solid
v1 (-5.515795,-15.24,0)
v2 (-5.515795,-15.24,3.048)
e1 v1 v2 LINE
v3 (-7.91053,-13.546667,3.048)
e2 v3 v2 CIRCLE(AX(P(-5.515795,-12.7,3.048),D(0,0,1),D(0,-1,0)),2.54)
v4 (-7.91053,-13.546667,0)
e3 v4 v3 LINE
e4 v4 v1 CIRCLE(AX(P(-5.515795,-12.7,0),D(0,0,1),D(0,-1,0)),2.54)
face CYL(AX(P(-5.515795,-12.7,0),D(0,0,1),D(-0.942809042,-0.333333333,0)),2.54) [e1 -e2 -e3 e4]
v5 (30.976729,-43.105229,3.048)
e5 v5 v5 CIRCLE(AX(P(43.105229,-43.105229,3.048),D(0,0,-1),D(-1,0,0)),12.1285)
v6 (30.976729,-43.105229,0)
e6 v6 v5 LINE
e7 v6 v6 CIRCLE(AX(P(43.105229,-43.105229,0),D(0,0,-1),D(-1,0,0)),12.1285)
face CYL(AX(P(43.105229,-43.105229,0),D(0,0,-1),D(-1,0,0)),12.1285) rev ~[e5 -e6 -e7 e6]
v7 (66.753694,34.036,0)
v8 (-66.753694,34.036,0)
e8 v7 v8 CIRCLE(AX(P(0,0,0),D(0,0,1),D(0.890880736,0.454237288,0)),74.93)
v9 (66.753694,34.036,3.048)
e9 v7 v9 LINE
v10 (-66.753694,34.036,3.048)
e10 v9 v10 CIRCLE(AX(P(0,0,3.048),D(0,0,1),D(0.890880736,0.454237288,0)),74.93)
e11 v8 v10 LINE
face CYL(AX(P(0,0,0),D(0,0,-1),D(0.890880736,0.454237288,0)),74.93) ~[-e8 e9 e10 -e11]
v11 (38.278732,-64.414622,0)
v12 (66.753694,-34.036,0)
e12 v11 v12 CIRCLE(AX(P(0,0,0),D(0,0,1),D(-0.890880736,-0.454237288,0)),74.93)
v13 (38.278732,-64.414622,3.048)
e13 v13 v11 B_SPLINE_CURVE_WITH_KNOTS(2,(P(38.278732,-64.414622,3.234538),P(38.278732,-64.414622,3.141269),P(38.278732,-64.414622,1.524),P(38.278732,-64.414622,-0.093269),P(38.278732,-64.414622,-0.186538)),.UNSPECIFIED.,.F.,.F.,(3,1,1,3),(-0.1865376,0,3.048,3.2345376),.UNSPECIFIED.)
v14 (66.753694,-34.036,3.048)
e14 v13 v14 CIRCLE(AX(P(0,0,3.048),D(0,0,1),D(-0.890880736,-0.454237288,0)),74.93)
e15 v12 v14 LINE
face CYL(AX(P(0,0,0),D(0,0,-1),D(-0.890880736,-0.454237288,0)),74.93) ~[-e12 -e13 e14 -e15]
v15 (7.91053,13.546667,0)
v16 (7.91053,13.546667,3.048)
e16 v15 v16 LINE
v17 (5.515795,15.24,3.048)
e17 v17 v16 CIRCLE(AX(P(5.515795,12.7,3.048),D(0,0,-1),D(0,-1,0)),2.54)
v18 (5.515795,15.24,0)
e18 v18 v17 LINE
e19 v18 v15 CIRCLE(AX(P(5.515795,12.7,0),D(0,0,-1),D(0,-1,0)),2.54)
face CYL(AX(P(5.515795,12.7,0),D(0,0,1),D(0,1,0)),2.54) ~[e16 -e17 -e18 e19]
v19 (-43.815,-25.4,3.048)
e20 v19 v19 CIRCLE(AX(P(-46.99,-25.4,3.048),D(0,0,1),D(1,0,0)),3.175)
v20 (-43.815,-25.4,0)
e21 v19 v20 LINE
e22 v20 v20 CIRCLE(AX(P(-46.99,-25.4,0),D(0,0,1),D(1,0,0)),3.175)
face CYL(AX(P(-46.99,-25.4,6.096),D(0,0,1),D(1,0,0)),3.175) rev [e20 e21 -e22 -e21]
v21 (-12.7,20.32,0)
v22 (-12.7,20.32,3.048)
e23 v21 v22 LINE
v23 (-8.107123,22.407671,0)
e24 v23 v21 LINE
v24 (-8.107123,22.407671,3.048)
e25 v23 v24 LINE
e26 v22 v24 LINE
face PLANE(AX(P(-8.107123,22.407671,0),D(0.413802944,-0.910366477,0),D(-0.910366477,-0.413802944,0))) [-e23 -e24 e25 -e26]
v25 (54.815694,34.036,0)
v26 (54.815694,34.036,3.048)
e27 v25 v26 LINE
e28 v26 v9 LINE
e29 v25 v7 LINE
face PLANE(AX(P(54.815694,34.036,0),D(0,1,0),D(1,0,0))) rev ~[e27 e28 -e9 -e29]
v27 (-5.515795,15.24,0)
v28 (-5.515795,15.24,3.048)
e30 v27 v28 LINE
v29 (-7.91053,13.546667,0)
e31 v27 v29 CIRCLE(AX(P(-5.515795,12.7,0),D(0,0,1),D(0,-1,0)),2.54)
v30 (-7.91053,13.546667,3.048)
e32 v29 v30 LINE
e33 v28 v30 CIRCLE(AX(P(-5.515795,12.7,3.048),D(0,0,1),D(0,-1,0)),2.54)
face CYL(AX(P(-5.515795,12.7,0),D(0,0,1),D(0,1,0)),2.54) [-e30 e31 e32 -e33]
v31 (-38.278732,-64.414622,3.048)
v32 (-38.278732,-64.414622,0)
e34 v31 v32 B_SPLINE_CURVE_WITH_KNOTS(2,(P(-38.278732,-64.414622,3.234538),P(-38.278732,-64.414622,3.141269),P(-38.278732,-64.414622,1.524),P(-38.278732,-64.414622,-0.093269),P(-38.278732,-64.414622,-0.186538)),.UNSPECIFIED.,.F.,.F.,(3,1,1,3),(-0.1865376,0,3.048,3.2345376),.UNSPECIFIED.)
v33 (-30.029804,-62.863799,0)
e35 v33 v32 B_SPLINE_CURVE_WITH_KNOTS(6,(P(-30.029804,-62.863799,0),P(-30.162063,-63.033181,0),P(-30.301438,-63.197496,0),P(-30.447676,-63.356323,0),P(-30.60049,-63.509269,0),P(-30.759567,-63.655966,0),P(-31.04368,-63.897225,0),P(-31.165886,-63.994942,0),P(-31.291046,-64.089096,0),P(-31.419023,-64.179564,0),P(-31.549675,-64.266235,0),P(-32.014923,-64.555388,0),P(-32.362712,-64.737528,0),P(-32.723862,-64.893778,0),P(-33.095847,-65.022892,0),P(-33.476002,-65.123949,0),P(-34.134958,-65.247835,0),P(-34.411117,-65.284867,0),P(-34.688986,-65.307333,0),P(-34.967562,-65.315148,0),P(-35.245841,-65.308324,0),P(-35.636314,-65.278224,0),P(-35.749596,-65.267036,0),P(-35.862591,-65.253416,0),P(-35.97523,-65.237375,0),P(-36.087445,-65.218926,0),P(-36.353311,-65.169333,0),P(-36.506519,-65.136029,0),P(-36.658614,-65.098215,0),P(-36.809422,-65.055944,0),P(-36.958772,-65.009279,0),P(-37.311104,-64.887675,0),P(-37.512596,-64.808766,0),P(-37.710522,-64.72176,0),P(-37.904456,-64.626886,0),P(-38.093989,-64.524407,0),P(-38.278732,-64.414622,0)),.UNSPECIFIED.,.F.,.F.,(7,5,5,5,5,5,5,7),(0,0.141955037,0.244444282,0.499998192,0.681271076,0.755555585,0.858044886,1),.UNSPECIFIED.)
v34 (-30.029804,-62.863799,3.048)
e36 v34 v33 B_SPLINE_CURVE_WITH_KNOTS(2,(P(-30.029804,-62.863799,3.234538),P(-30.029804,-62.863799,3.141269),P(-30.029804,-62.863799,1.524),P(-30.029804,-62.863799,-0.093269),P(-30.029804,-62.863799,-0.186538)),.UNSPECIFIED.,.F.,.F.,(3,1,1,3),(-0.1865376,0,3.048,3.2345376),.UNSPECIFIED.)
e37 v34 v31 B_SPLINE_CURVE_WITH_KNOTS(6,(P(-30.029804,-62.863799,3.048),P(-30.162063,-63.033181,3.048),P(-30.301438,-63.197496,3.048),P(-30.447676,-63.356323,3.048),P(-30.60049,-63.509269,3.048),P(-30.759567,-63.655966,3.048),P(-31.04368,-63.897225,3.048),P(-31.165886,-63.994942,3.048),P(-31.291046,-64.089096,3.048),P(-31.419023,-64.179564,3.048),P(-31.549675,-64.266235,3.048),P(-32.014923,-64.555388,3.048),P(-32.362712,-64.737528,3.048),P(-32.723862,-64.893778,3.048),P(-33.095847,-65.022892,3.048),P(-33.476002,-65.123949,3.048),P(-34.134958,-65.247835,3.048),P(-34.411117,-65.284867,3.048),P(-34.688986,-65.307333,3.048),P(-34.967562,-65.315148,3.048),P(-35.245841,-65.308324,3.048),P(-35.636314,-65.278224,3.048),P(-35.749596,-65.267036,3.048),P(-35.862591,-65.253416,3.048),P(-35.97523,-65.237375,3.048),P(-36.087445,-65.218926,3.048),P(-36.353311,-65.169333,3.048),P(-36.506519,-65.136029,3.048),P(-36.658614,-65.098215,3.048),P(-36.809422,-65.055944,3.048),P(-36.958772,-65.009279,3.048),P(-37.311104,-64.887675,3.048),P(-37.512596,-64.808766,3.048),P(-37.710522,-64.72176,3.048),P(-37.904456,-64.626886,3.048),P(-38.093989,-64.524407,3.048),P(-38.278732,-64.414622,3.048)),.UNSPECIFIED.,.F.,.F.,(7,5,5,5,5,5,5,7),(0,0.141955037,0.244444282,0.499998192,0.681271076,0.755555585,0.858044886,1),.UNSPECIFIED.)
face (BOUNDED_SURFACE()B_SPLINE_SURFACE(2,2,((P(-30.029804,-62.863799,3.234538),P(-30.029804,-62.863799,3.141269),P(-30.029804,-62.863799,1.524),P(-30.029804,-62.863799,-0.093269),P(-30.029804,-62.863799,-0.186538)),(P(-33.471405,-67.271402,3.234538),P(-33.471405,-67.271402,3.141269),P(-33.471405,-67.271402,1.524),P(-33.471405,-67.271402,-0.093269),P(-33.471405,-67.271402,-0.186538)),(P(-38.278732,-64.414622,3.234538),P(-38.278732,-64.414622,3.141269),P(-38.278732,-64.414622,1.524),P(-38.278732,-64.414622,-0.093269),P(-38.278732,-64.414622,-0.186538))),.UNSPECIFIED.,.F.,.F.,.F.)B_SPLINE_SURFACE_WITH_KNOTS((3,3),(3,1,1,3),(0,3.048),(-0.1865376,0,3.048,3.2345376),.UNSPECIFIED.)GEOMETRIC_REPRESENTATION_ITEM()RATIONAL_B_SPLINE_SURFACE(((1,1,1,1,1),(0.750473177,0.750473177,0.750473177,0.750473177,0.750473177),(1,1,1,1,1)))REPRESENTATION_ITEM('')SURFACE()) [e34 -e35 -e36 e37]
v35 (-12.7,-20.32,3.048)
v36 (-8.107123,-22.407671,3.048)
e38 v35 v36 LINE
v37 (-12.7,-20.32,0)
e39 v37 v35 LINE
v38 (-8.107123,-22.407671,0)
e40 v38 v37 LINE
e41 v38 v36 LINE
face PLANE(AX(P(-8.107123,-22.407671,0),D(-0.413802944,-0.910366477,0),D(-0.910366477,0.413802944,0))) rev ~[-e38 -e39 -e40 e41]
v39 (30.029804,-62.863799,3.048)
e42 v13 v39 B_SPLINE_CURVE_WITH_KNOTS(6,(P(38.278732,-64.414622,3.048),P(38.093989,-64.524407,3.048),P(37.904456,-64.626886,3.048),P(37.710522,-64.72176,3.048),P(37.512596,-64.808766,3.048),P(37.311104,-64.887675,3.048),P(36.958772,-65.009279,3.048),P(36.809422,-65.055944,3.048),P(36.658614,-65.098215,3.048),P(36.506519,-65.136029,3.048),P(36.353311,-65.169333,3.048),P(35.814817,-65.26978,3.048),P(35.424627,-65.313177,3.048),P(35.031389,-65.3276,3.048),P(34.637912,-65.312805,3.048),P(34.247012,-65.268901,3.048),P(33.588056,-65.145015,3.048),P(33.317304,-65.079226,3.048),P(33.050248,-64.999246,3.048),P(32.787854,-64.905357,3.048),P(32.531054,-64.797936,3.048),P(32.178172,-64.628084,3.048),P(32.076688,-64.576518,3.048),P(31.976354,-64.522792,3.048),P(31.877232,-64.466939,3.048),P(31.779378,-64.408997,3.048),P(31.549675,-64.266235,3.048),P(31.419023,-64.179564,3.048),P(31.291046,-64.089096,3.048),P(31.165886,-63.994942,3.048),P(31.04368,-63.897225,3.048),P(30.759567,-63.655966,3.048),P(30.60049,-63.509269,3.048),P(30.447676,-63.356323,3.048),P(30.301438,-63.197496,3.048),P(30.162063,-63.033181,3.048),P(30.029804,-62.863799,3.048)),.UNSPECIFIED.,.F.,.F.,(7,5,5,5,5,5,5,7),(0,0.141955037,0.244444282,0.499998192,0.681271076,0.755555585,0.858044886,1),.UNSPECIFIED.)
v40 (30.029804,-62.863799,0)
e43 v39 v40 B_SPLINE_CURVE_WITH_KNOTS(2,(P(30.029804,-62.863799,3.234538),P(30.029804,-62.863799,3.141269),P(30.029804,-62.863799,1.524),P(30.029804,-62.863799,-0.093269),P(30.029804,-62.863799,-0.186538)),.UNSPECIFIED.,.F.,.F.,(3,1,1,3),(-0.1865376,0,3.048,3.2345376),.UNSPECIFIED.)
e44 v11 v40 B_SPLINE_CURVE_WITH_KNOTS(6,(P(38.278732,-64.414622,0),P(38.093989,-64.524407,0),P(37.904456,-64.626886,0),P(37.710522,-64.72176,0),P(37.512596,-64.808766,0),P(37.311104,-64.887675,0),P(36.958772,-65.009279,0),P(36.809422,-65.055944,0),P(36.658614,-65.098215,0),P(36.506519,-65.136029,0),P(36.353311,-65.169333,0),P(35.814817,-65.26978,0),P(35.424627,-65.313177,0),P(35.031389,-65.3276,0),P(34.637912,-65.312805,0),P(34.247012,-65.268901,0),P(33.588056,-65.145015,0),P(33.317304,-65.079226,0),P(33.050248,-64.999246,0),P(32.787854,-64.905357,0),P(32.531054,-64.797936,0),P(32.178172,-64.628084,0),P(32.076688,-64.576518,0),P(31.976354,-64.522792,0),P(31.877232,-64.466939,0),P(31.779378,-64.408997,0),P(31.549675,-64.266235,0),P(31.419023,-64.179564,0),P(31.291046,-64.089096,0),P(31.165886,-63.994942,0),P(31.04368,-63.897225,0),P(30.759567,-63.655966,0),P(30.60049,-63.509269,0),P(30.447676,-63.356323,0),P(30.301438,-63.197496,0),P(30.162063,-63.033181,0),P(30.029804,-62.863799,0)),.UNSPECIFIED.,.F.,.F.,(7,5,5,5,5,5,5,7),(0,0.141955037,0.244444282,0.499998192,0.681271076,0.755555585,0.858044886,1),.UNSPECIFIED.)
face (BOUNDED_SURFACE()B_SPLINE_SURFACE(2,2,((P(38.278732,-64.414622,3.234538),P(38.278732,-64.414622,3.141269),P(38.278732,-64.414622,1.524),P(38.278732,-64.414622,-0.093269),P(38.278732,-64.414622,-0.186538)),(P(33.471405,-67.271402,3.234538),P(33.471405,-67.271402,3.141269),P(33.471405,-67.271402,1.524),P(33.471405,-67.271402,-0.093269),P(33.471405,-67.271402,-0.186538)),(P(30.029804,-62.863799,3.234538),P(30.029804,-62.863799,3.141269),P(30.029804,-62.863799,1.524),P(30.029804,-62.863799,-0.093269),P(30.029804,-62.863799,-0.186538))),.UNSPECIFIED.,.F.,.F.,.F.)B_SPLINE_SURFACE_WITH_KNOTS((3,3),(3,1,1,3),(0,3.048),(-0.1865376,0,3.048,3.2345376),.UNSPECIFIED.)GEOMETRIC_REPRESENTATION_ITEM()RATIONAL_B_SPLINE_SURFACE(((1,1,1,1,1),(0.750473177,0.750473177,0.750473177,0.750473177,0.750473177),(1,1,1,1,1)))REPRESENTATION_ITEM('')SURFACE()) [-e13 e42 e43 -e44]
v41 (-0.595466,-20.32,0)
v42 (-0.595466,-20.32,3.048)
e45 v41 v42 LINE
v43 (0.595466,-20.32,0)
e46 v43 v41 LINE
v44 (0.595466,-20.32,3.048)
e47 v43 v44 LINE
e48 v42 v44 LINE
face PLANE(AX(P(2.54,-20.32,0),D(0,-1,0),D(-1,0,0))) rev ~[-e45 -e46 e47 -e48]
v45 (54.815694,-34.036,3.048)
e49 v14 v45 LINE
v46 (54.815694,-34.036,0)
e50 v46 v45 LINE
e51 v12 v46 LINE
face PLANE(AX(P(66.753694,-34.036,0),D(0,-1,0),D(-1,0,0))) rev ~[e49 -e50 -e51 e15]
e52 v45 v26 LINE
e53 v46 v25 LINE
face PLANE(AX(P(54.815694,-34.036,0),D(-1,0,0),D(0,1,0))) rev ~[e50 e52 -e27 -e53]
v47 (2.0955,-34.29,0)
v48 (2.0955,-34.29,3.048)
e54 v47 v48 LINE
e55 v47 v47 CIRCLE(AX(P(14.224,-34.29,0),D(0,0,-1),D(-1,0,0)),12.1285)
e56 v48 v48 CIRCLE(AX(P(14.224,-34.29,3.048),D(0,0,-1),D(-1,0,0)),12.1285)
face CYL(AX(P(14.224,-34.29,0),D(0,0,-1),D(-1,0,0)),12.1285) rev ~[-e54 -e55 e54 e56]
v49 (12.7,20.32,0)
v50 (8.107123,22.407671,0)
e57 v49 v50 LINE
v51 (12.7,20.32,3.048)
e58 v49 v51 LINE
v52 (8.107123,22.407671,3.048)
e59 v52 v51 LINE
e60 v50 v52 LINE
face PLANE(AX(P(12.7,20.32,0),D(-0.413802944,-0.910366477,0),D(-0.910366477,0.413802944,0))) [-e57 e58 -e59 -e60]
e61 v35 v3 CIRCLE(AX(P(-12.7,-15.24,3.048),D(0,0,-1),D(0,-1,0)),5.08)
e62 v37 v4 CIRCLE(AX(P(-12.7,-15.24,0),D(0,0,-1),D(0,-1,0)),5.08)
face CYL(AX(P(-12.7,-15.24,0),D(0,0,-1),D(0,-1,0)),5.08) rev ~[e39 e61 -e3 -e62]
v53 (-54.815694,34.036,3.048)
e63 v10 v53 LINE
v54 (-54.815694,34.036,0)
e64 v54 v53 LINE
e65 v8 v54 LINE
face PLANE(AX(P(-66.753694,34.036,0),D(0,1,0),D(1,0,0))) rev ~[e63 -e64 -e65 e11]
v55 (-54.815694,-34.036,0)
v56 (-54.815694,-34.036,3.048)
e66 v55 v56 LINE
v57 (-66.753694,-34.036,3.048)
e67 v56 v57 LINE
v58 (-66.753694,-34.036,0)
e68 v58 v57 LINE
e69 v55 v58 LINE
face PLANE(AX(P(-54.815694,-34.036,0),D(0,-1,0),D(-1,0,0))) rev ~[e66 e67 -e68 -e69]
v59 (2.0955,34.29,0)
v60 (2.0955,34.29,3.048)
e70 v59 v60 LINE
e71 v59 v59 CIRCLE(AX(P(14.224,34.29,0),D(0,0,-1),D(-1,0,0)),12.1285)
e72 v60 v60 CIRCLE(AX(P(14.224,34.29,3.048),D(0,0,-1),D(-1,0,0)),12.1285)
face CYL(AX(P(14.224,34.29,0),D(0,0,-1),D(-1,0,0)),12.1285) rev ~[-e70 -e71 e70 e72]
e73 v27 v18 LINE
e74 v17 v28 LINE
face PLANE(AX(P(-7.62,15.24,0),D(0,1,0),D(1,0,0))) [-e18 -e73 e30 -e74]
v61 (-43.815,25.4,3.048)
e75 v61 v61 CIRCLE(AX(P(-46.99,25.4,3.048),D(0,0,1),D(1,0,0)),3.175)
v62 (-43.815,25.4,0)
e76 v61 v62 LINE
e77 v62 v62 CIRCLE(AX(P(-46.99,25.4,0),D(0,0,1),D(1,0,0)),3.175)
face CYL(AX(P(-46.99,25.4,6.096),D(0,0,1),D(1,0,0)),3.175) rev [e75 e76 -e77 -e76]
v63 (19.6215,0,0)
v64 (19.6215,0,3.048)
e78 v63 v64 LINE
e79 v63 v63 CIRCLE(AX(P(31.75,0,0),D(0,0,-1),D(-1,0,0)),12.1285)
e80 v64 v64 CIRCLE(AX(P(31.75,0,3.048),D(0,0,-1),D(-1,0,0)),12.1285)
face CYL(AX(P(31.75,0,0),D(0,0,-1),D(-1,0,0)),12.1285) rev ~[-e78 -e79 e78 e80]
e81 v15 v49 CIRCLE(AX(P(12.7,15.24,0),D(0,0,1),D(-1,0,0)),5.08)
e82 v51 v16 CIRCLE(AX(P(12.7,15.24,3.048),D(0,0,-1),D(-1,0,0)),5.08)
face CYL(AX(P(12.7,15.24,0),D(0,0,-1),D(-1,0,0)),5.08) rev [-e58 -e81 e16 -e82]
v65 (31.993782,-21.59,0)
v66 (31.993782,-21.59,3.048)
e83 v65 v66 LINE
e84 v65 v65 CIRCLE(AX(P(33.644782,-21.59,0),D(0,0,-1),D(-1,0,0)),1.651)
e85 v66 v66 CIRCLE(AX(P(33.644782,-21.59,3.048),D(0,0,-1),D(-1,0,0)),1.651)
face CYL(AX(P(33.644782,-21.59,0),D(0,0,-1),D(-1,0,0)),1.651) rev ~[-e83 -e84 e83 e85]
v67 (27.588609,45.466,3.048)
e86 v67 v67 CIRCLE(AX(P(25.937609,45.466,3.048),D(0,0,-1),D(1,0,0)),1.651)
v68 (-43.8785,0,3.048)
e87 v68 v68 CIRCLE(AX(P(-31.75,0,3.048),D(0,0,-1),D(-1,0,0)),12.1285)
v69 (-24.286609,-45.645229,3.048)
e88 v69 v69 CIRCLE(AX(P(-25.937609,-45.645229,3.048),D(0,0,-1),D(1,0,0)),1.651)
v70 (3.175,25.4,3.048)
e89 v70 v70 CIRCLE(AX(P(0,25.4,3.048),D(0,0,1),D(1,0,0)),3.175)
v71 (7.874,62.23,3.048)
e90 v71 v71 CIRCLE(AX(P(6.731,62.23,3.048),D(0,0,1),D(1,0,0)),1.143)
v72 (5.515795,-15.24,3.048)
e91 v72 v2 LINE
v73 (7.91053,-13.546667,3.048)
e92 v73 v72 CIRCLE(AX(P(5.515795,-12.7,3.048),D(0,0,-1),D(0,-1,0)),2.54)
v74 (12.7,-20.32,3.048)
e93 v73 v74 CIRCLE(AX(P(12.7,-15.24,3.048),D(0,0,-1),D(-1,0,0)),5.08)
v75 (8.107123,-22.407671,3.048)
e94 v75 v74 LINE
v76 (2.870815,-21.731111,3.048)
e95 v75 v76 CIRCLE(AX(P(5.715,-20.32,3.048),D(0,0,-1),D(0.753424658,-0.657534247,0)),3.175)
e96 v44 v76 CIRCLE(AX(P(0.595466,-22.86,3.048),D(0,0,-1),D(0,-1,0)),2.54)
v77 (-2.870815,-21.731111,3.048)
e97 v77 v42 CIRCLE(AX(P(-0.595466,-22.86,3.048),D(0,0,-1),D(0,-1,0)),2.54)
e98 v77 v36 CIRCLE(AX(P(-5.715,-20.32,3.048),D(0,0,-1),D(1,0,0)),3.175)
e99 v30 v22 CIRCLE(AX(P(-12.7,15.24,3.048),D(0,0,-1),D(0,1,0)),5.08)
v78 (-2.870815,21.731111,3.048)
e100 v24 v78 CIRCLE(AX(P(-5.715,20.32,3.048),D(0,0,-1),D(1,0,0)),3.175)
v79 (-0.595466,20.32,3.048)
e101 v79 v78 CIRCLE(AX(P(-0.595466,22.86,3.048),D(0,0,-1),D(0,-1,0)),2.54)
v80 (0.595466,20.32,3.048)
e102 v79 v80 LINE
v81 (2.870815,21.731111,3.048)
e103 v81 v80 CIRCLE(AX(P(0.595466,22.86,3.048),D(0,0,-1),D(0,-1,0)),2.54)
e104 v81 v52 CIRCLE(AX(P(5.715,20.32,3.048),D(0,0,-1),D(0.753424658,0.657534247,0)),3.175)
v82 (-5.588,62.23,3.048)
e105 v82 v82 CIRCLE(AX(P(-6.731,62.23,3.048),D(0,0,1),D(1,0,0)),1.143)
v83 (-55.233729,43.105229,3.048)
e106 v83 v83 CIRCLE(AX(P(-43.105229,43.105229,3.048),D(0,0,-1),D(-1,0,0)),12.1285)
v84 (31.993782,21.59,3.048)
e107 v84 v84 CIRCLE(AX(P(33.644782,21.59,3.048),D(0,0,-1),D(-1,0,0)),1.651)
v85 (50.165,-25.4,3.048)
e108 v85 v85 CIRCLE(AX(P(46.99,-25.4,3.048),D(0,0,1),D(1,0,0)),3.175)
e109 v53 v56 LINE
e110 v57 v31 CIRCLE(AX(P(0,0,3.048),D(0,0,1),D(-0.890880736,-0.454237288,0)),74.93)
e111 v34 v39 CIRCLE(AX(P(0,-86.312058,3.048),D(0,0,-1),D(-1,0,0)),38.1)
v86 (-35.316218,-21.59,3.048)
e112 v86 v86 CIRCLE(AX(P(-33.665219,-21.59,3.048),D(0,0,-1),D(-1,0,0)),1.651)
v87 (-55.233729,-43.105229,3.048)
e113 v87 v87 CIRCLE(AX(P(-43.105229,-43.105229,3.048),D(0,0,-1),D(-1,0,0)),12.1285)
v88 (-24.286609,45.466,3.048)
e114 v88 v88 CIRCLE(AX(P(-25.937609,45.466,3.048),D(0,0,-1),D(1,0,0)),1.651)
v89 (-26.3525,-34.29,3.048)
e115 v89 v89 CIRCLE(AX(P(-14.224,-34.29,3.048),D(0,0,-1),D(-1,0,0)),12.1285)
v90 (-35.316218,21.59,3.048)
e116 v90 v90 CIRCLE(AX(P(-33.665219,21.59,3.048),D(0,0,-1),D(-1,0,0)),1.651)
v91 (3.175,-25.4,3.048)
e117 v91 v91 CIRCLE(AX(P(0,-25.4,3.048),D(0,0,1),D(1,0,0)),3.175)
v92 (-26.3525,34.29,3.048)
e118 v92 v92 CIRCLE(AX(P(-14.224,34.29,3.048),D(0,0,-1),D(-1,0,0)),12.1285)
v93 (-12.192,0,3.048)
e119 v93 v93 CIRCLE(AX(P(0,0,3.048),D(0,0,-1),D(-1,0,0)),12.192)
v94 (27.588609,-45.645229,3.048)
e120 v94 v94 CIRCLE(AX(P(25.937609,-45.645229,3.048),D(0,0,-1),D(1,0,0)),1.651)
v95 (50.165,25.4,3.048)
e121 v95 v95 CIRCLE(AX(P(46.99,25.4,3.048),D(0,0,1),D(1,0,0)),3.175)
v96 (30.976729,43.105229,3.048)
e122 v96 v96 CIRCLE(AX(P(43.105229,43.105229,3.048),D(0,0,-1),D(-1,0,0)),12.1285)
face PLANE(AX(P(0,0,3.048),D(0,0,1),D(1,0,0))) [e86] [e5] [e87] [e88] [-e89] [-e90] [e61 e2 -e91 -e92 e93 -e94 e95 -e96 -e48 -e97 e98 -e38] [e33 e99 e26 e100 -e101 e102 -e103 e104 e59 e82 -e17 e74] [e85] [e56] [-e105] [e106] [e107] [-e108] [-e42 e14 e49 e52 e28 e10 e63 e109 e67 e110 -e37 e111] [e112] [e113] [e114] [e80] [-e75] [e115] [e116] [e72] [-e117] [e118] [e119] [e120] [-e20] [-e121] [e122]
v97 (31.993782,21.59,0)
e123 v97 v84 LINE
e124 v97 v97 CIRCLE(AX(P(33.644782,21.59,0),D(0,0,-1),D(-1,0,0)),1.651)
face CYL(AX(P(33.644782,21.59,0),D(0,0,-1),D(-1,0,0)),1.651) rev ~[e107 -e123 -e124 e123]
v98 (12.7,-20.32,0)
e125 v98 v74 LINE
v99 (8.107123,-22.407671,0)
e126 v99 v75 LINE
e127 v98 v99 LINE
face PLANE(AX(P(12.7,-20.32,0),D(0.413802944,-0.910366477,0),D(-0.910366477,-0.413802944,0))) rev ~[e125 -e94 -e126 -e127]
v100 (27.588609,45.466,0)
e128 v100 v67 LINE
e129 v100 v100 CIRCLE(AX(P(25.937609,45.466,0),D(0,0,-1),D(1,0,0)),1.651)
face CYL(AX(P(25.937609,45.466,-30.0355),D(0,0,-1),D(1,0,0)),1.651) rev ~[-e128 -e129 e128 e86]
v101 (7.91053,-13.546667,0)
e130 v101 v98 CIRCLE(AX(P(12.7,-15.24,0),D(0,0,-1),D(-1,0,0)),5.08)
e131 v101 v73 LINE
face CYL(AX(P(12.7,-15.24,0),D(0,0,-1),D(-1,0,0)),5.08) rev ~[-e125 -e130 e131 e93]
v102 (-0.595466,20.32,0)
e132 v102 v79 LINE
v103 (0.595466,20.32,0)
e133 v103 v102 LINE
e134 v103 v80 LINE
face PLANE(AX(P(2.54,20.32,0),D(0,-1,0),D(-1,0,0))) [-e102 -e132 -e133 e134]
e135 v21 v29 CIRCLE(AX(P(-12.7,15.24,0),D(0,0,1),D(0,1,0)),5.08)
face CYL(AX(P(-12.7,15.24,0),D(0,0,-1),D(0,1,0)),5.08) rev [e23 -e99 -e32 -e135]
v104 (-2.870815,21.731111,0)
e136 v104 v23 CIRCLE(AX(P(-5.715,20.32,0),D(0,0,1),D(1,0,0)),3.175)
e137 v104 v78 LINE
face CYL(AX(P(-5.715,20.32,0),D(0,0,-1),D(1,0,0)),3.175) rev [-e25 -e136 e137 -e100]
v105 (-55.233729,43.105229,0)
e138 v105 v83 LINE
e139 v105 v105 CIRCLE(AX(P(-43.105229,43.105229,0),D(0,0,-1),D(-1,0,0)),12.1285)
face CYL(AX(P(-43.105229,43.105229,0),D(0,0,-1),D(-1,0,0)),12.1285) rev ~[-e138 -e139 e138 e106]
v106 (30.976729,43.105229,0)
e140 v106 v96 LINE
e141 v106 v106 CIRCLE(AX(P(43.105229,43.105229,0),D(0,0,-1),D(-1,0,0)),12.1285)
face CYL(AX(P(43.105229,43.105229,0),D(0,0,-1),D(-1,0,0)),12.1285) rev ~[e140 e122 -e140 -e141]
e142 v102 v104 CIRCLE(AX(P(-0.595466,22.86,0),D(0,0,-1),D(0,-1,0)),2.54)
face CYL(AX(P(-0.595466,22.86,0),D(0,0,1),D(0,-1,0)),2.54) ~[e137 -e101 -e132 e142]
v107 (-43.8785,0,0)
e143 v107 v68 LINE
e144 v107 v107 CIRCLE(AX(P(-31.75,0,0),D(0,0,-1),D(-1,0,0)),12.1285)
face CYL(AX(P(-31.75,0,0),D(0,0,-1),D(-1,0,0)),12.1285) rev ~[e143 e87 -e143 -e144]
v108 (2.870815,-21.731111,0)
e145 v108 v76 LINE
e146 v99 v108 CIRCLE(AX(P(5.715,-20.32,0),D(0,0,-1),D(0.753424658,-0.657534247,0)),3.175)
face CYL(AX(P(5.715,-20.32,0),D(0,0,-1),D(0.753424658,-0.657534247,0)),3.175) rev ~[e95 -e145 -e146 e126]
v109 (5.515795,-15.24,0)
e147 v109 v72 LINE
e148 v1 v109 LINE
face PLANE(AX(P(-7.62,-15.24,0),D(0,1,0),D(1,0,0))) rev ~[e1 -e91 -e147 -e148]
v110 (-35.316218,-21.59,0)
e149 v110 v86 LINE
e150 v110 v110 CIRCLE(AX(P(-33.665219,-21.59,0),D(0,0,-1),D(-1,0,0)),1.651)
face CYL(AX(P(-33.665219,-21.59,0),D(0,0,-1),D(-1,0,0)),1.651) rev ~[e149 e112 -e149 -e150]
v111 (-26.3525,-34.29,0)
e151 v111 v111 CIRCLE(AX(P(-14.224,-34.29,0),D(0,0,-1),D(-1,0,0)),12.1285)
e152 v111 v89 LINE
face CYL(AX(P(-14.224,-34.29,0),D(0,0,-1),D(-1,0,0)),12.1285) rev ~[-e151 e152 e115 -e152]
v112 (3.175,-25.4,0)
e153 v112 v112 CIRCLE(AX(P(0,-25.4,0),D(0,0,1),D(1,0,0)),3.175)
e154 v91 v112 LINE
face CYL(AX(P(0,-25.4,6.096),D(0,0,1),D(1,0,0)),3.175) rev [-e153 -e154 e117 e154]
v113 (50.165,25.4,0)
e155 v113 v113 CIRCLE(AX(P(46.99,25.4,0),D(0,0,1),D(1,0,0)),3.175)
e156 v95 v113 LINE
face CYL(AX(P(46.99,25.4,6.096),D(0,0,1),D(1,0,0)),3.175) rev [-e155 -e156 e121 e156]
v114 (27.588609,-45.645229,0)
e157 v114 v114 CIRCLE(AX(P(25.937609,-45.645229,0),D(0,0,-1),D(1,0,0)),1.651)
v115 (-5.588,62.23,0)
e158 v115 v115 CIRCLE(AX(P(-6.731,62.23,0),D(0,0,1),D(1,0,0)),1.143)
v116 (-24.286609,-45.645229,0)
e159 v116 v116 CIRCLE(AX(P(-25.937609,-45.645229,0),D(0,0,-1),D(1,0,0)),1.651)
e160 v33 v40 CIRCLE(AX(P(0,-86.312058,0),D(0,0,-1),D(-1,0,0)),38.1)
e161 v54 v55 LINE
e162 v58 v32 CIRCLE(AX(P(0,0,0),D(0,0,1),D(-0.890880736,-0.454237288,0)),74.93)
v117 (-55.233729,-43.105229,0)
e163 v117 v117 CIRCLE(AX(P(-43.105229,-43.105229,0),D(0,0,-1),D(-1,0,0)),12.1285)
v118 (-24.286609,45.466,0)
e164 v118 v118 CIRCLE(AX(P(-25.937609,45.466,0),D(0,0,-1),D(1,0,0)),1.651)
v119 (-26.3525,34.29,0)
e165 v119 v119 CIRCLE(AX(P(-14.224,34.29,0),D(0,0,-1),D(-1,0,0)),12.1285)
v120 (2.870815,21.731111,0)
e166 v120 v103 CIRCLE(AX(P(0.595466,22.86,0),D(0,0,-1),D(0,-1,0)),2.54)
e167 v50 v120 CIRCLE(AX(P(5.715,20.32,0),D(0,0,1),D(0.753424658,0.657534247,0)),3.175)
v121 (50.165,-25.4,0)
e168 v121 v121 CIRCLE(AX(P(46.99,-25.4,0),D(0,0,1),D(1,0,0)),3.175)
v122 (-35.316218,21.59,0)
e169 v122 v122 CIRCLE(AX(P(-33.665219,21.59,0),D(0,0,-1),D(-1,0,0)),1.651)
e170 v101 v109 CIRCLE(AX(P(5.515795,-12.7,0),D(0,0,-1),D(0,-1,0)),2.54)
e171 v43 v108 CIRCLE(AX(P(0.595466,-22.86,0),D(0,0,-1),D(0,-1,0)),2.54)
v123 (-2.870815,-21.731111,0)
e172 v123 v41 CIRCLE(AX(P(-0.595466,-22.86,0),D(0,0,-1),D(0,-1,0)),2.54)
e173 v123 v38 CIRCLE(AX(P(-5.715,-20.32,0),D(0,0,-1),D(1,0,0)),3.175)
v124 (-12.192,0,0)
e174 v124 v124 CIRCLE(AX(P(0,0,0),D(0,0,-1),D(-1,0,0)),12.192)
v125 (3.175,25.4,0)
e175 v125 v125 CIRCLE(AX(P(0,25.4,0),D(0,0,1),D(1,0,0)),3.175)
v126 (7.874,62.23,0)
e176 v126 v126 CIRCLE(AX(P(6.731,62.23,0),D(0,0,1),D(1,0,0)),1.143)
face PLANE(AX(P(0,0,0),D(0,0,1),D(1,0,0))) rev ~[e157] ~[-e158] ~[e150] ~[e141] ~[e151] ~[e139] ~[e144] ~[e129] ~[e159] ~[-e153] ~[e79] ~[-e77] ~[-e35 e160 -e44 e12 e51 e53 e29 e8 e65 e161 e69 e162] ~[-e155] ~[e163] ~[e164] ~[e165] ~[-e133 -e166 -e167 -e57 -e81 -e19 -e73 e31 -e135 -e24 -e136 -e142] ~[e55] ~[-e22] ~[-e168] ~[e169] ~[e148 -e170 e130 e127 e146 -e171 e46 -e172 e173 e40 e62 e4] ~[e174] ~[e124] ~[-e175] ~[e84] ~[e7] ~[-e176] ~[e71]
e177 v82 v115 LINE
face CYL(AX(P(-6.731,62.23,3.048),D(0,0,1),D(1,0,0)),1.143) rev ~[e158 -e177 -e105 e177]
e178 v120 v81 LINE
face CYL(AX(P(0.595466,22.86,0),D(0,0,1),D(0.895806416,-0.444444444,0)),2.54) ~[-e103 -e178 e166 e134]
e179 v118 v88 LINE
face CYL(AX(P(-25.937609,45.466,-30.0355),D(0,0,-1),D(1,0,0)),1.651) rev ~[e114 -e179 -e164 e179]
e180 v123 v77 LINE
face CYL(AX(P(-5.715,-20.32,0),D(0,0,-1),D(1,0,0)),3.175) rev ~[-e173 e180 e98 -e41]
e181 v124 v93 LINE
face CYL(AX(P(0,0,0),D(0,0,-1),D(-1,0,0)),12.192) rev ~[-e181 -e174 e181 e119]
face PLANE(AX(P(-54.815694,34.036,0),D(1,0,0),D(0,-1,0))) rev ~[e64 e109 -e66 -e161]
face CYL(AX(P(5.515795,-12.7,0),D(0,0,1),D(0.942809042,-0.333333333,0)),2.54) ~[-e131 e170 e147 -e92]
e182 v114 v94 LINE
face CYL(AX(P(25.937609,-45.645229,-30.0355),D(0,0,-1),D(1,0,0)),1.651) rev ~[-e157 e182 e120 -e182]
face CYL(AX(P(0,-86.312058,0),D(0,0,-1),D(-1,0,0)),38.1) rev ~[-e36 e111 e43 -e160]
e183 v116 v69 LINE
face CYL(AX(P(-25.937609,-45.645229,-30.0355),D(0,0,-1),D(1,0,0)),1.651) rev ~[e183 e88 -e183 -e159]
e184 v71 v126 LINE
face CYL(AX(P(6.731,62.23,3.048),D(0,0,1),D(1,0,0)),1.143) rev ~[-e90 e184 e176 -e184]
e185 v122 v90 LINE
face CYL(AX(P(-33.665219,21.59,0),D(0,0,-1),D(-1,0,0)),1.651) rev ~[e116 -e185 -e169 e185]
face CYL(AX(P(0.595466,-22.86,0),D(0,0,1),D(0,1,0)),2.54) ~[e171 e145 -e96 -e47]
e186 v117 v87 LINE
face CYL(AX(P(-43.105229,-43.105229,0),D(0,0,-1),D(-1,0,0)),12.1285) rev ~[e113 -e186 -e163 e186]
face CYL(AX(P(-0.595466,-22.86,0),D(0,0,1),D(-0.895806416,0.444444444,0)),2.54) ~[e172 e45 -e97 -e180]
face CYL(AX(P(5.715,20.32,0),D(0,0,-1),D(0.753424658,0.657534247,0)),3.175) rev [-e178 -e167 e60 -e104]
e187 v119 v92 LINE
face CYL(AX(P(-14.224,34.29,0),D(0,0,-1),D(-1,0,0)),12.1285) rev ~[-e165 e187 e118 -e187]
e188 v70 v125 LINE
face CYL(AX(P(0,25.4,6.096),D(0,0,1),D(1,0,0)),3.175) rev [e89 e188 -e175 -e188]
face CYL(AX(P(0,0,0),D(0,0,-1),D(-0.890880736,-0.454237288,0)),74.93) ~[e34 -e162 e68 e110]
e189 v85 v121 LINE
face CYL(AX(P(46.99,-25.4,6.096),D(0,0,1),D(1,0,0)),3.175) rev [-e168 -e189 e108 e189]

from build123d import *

# Parameters (mm, degrees)
BOSS_EXTRUDE2_DEPTH      = 3.048
SKETCH2_R                = 1.143
CUT_EXTRUDE1_DEPTH       = 101.398460187
SKETCH4_R                = 38.1
CUT_EXTRUDE3_DEPTH       = 124.46
FILLET1_R                = 6.35
SKETCH12_R               = 1.651
CUT_EXTRUDE11_DEPTH      = 75.692
SKETCH14_R               = 1.651
CUT_EXTRUDE13_DEPTH      = 97.79
SKETCH15_R               = 3.175
CUT_EXTRUDE14_DEPTH      = 103.378
CUT_EXTRUDE14_DEPTH_BACK = 48.768
SKETCH3_R                = 12.1285
SKETCH3_R_2              = 12.192
CUT_EXTRUDE2_DEPTH       = 101.398460332
FILLET2_R                = 2.54


with BuildPart() as part:
    # Sketch1 → Boss-Extrude2 (new body)
    with BuildSketch(Plane.XY):
        with BuildLine():
            Line((-66.753693561, 34.036), (-54.815693561, 34.036))
            Line((-54.815693561, 34.036), (-54.815693561, -34.036))
            Line((-54.815693561, -34.036), (-66.753693561, -34.036))
            ThreePointArc((-66.753693561, -34.036), (0, -74.93), (66.753693561, -34.036))
            Line((66.753693561, -34.036), (54.815693561, -34.036))
            Line((54.815693561, -34.036), (54.815693561, 34.036))
            Line((54.815693561, 34.036), (66.753693561, 34.036))
            ThreePointArc((66.753693561, 34.036), (0, 74.93), (-66.753693561, 34.036))
        make_face()
    extrude(amount=BOSS_EXTRUDE2_DEPTH)

    # Sketch2 → Cut-Extrude1 (cut, through all)
    with BuildSketch(Plane.XY.offset(3.048)):
        with Locations((-6.731, 62.23)):
            Circle(SKETCH2_R)
        with Locations((6.731, 62.23)):
            Circle(SKETCH2_R)
    extrude(amount=-CUT_EXTRUDE1_DEPTH, mode=Mode.SUBTRACT)

    # Sketch4 → Cut-Extrude3 (cut)
    with BuildSketch(Plane(origin=(0, 0, 0), x_dir=(-1, 0, 0), z_dir=(0, 0, -1))):
        with Locations((0, -86.312058398)):
            Circle(SKETCH4_R)
    extrude(amount=-CUT_EXTRUDE3_DEPTH, mode=Mode.SUBTRACT)

    # Fillet1
    fillet1_edges = [part.edges().sort_by_distance(p)[0] for p in [
        (-33.000960548, -67.271401821, 1.524),
        (33.000960548, -67.271401821, 1.524),
    ]]
    fillet(fillet1_edges, radius=FILLET1_R)

    # Sketch12 → Cut-Extrude11 (cut)
    with BuildSketch(Plane(origin=(30.092005081, 4.08352975, 0), x_dir=(-1, 0, 0), z_dir=(0, 0, -1))):
        with Locations((63.757223581, 17.50647025)):
            Circle(SKETCH12_R)
        with Locations((63.757223581, -25.67352975)):
            Circle(SKETCH12_R)
        with Locations((-3.552776419, -25.67352975)):
            Circle(SKETCH12_R)
        with Locations((-3.552776419, 17.50647025)):
            Circle(SKETCH12_R)
    extrude(amount=-CUT_EXTRUDE11_DEPTH, mode=Mode.SUBTRACT)

    # Sketch14 → Cut-Extrude13 (cut)
    with BuildSketch(Plane(origin=(30.092005081, 4.08352975, -30.0355), x_dir=(-1, 0, 0), z_dir=(0, 0, -1))):
        with Locations(Location((4.154396091, -49.728759131, 0), (0, 0, 180))):
            Circle(SKETCH14_R)
        with Locations(Location((56.02961407, -49.728759131, 0), (0, 0, 180))):
            Circle(SKETCH14_R)
        with Locations(Location((4.154396091, 41.38247025, 0), (0, 0, 180))):
            Circle(SKETCH14_R)
        with Locations(Location((56.02961407, 41.38247025, 0), (0, 0, 180))):
            Circle(SKETCH14_R)
    extrude(amount=-CUT_EXTRUDE13_DEPTH, mode=Mode.SUBTRACT)

    # Sketch15 → Cut-Extrude14 (cut, two sides)
    with BuildSketch(Plane(origin=(30.092005081, 4.08352975, 6.096), x_dir=(-1, 0, 0), z_dir=(0, 0, -1))) as cut_extrude14_sk:
        with Locations(Location((-16.897994919, 21.31647025, 0), (0, 0, 180))):
            Circle(SKETCH15_R)
        with Locations(Location((77.082005081, 21.31647025, 0), (0, 0, 180))):
            Circle(SKETCH15_R)
        with Locations(Location((30.092005081, 21.31647025, 0), (0, 0, 180))):
            Circle(SKETCH15_R)
        with Locations(Location((77.082005081, -29.48352975, 0), (0, 0, 180))):
            Circle(SKETCH15_R)
        with Locations(Location((30.092005081, -29.48352975, 0), (0, 0, 180))):
            Circle(SKETCH15_R)
        with Locations(Location((-16.897994919, -29.48352975, 0), (0, 0, 180))):
            Circle(SKETCH15_R)
    extrude(amount=CUT_EXTRUDE14_DEPTH, mode=Mode.SUBTRACT)
    extrude(cut_extrude14_sk.sketch, amount=-CUT_EXTRUDE14_DEPTH_BACK, mode=Mode.SUBTRACT)

    # Sketch3 → Cut-Extrude2 (cut, through all)
    with BuildSketch(Plane(origin=(0, 0, 0), x_dir=(-1, 0, 0), z_dir=(0, 0, -1))):
        with Locations((-31.75, 0)):
            Circle(SKETCH3_R)
        with Locations((31.75, 0)):
            Circle(SKETCH3_R)
        Circle(SKETCH3_R_2)
        with Locations((-43.105229381, -43.105229381)):
            Circle(SKETCH3_R)
        with Locations((14.224, -34.29)):
            Circle(SKETCH3_R)
        with Locations((14.224, 34.29)):
            Circle(SKETCH3_R)
        with Locations((-43.105229381, 43.105229381)):
            Circle(SKETCH3_R)
        with Locations((43.105229381, 43.105229381)):
            Circle(SKETCH3_R)
        with Locations((-14.224, 34.29)):
            Circle(SKETCH3_R)
        with Locations((-14.224, -34.29)):
            Circle(SKETCH3_R)
        with Locations((43.105229381, -43.105229381)):
            Circle(SKETCH3_R)
        with BuildLine():
            Line((7.62, 15.24), (-7.62, 15.24))
            ThreePointArc((-7.62, 15.24), (-16.292102448, 11.647897552), (-12.7, 20.32))
            Line((-12.7, 20.32), (-8.107123288, 22.407671233))
            ThreePointArc((-8.107123288, 22.407671233), (-4.600183073, 23.292845139), (-2.54, 20.32))
            Line((-2.54, 20.32), (2.54, 20.32))
            ThreePointArc((2.54, 20.32), (4.600183073, 23.292845139), (8.107123288, 22.407671233))
            Line((8.107123288, 22.407671233), (12.7, 20.32))
            ThreePointArc((12.7, 20.32), (16.292102448, 11.647897552), (7.62, 15.24))
        make_face()
        with BuildLine():
            Line((7.62, -15.24), (-7.62, -15.24))
            ThreePointArc((-7.62, -15.24), (-16.292102448, -11.647897552), (-12.7, -20.32))
            Line((-12.7, -20.32), (-8.107123288, -22.407671233))
            ThreePointArc((-8.107123288, -22.407671233), (-4.600183073, -23.292845139), (-2.54, -20.32))
            Line((-2.54, -20.32), (2.54, -20.32))
            ThreePointArc((2.54, -20.32), (4.600183073, -23.292845139), (8.107123288, -22.407671233))
            Line((8.107123288, -22.407671233), (12.7, -20.32))
            ThreePointArc((12.7, -20.32), (16.292102448, -11.647897552), (7.62, -15.24))
        make_face()
    extrude(amount=-CUT_EXTRUDE2_DEPTH, mode=Mode.SUBTRACT)

    # Fillet2
    fillet2_edges = [part.edges().sort_by_distance(p)[0] for p in [
        (-7.62, -15.24, 1.524),
        (-2.54, -20.32, 1.524),
        (2.54, -20.32, 1.524),
        (7.62, -15.24, 1.524),
        (-7.62, 15.24, 1.524),
        (7.62, 15.24, 1.524),
        (2.54, 20.32, 1.524),
        (-2.54, 20.32, 1.524),
    ]]
    fillet(fillet2_edges, radius=FILLET2_R)


solid = part.part
